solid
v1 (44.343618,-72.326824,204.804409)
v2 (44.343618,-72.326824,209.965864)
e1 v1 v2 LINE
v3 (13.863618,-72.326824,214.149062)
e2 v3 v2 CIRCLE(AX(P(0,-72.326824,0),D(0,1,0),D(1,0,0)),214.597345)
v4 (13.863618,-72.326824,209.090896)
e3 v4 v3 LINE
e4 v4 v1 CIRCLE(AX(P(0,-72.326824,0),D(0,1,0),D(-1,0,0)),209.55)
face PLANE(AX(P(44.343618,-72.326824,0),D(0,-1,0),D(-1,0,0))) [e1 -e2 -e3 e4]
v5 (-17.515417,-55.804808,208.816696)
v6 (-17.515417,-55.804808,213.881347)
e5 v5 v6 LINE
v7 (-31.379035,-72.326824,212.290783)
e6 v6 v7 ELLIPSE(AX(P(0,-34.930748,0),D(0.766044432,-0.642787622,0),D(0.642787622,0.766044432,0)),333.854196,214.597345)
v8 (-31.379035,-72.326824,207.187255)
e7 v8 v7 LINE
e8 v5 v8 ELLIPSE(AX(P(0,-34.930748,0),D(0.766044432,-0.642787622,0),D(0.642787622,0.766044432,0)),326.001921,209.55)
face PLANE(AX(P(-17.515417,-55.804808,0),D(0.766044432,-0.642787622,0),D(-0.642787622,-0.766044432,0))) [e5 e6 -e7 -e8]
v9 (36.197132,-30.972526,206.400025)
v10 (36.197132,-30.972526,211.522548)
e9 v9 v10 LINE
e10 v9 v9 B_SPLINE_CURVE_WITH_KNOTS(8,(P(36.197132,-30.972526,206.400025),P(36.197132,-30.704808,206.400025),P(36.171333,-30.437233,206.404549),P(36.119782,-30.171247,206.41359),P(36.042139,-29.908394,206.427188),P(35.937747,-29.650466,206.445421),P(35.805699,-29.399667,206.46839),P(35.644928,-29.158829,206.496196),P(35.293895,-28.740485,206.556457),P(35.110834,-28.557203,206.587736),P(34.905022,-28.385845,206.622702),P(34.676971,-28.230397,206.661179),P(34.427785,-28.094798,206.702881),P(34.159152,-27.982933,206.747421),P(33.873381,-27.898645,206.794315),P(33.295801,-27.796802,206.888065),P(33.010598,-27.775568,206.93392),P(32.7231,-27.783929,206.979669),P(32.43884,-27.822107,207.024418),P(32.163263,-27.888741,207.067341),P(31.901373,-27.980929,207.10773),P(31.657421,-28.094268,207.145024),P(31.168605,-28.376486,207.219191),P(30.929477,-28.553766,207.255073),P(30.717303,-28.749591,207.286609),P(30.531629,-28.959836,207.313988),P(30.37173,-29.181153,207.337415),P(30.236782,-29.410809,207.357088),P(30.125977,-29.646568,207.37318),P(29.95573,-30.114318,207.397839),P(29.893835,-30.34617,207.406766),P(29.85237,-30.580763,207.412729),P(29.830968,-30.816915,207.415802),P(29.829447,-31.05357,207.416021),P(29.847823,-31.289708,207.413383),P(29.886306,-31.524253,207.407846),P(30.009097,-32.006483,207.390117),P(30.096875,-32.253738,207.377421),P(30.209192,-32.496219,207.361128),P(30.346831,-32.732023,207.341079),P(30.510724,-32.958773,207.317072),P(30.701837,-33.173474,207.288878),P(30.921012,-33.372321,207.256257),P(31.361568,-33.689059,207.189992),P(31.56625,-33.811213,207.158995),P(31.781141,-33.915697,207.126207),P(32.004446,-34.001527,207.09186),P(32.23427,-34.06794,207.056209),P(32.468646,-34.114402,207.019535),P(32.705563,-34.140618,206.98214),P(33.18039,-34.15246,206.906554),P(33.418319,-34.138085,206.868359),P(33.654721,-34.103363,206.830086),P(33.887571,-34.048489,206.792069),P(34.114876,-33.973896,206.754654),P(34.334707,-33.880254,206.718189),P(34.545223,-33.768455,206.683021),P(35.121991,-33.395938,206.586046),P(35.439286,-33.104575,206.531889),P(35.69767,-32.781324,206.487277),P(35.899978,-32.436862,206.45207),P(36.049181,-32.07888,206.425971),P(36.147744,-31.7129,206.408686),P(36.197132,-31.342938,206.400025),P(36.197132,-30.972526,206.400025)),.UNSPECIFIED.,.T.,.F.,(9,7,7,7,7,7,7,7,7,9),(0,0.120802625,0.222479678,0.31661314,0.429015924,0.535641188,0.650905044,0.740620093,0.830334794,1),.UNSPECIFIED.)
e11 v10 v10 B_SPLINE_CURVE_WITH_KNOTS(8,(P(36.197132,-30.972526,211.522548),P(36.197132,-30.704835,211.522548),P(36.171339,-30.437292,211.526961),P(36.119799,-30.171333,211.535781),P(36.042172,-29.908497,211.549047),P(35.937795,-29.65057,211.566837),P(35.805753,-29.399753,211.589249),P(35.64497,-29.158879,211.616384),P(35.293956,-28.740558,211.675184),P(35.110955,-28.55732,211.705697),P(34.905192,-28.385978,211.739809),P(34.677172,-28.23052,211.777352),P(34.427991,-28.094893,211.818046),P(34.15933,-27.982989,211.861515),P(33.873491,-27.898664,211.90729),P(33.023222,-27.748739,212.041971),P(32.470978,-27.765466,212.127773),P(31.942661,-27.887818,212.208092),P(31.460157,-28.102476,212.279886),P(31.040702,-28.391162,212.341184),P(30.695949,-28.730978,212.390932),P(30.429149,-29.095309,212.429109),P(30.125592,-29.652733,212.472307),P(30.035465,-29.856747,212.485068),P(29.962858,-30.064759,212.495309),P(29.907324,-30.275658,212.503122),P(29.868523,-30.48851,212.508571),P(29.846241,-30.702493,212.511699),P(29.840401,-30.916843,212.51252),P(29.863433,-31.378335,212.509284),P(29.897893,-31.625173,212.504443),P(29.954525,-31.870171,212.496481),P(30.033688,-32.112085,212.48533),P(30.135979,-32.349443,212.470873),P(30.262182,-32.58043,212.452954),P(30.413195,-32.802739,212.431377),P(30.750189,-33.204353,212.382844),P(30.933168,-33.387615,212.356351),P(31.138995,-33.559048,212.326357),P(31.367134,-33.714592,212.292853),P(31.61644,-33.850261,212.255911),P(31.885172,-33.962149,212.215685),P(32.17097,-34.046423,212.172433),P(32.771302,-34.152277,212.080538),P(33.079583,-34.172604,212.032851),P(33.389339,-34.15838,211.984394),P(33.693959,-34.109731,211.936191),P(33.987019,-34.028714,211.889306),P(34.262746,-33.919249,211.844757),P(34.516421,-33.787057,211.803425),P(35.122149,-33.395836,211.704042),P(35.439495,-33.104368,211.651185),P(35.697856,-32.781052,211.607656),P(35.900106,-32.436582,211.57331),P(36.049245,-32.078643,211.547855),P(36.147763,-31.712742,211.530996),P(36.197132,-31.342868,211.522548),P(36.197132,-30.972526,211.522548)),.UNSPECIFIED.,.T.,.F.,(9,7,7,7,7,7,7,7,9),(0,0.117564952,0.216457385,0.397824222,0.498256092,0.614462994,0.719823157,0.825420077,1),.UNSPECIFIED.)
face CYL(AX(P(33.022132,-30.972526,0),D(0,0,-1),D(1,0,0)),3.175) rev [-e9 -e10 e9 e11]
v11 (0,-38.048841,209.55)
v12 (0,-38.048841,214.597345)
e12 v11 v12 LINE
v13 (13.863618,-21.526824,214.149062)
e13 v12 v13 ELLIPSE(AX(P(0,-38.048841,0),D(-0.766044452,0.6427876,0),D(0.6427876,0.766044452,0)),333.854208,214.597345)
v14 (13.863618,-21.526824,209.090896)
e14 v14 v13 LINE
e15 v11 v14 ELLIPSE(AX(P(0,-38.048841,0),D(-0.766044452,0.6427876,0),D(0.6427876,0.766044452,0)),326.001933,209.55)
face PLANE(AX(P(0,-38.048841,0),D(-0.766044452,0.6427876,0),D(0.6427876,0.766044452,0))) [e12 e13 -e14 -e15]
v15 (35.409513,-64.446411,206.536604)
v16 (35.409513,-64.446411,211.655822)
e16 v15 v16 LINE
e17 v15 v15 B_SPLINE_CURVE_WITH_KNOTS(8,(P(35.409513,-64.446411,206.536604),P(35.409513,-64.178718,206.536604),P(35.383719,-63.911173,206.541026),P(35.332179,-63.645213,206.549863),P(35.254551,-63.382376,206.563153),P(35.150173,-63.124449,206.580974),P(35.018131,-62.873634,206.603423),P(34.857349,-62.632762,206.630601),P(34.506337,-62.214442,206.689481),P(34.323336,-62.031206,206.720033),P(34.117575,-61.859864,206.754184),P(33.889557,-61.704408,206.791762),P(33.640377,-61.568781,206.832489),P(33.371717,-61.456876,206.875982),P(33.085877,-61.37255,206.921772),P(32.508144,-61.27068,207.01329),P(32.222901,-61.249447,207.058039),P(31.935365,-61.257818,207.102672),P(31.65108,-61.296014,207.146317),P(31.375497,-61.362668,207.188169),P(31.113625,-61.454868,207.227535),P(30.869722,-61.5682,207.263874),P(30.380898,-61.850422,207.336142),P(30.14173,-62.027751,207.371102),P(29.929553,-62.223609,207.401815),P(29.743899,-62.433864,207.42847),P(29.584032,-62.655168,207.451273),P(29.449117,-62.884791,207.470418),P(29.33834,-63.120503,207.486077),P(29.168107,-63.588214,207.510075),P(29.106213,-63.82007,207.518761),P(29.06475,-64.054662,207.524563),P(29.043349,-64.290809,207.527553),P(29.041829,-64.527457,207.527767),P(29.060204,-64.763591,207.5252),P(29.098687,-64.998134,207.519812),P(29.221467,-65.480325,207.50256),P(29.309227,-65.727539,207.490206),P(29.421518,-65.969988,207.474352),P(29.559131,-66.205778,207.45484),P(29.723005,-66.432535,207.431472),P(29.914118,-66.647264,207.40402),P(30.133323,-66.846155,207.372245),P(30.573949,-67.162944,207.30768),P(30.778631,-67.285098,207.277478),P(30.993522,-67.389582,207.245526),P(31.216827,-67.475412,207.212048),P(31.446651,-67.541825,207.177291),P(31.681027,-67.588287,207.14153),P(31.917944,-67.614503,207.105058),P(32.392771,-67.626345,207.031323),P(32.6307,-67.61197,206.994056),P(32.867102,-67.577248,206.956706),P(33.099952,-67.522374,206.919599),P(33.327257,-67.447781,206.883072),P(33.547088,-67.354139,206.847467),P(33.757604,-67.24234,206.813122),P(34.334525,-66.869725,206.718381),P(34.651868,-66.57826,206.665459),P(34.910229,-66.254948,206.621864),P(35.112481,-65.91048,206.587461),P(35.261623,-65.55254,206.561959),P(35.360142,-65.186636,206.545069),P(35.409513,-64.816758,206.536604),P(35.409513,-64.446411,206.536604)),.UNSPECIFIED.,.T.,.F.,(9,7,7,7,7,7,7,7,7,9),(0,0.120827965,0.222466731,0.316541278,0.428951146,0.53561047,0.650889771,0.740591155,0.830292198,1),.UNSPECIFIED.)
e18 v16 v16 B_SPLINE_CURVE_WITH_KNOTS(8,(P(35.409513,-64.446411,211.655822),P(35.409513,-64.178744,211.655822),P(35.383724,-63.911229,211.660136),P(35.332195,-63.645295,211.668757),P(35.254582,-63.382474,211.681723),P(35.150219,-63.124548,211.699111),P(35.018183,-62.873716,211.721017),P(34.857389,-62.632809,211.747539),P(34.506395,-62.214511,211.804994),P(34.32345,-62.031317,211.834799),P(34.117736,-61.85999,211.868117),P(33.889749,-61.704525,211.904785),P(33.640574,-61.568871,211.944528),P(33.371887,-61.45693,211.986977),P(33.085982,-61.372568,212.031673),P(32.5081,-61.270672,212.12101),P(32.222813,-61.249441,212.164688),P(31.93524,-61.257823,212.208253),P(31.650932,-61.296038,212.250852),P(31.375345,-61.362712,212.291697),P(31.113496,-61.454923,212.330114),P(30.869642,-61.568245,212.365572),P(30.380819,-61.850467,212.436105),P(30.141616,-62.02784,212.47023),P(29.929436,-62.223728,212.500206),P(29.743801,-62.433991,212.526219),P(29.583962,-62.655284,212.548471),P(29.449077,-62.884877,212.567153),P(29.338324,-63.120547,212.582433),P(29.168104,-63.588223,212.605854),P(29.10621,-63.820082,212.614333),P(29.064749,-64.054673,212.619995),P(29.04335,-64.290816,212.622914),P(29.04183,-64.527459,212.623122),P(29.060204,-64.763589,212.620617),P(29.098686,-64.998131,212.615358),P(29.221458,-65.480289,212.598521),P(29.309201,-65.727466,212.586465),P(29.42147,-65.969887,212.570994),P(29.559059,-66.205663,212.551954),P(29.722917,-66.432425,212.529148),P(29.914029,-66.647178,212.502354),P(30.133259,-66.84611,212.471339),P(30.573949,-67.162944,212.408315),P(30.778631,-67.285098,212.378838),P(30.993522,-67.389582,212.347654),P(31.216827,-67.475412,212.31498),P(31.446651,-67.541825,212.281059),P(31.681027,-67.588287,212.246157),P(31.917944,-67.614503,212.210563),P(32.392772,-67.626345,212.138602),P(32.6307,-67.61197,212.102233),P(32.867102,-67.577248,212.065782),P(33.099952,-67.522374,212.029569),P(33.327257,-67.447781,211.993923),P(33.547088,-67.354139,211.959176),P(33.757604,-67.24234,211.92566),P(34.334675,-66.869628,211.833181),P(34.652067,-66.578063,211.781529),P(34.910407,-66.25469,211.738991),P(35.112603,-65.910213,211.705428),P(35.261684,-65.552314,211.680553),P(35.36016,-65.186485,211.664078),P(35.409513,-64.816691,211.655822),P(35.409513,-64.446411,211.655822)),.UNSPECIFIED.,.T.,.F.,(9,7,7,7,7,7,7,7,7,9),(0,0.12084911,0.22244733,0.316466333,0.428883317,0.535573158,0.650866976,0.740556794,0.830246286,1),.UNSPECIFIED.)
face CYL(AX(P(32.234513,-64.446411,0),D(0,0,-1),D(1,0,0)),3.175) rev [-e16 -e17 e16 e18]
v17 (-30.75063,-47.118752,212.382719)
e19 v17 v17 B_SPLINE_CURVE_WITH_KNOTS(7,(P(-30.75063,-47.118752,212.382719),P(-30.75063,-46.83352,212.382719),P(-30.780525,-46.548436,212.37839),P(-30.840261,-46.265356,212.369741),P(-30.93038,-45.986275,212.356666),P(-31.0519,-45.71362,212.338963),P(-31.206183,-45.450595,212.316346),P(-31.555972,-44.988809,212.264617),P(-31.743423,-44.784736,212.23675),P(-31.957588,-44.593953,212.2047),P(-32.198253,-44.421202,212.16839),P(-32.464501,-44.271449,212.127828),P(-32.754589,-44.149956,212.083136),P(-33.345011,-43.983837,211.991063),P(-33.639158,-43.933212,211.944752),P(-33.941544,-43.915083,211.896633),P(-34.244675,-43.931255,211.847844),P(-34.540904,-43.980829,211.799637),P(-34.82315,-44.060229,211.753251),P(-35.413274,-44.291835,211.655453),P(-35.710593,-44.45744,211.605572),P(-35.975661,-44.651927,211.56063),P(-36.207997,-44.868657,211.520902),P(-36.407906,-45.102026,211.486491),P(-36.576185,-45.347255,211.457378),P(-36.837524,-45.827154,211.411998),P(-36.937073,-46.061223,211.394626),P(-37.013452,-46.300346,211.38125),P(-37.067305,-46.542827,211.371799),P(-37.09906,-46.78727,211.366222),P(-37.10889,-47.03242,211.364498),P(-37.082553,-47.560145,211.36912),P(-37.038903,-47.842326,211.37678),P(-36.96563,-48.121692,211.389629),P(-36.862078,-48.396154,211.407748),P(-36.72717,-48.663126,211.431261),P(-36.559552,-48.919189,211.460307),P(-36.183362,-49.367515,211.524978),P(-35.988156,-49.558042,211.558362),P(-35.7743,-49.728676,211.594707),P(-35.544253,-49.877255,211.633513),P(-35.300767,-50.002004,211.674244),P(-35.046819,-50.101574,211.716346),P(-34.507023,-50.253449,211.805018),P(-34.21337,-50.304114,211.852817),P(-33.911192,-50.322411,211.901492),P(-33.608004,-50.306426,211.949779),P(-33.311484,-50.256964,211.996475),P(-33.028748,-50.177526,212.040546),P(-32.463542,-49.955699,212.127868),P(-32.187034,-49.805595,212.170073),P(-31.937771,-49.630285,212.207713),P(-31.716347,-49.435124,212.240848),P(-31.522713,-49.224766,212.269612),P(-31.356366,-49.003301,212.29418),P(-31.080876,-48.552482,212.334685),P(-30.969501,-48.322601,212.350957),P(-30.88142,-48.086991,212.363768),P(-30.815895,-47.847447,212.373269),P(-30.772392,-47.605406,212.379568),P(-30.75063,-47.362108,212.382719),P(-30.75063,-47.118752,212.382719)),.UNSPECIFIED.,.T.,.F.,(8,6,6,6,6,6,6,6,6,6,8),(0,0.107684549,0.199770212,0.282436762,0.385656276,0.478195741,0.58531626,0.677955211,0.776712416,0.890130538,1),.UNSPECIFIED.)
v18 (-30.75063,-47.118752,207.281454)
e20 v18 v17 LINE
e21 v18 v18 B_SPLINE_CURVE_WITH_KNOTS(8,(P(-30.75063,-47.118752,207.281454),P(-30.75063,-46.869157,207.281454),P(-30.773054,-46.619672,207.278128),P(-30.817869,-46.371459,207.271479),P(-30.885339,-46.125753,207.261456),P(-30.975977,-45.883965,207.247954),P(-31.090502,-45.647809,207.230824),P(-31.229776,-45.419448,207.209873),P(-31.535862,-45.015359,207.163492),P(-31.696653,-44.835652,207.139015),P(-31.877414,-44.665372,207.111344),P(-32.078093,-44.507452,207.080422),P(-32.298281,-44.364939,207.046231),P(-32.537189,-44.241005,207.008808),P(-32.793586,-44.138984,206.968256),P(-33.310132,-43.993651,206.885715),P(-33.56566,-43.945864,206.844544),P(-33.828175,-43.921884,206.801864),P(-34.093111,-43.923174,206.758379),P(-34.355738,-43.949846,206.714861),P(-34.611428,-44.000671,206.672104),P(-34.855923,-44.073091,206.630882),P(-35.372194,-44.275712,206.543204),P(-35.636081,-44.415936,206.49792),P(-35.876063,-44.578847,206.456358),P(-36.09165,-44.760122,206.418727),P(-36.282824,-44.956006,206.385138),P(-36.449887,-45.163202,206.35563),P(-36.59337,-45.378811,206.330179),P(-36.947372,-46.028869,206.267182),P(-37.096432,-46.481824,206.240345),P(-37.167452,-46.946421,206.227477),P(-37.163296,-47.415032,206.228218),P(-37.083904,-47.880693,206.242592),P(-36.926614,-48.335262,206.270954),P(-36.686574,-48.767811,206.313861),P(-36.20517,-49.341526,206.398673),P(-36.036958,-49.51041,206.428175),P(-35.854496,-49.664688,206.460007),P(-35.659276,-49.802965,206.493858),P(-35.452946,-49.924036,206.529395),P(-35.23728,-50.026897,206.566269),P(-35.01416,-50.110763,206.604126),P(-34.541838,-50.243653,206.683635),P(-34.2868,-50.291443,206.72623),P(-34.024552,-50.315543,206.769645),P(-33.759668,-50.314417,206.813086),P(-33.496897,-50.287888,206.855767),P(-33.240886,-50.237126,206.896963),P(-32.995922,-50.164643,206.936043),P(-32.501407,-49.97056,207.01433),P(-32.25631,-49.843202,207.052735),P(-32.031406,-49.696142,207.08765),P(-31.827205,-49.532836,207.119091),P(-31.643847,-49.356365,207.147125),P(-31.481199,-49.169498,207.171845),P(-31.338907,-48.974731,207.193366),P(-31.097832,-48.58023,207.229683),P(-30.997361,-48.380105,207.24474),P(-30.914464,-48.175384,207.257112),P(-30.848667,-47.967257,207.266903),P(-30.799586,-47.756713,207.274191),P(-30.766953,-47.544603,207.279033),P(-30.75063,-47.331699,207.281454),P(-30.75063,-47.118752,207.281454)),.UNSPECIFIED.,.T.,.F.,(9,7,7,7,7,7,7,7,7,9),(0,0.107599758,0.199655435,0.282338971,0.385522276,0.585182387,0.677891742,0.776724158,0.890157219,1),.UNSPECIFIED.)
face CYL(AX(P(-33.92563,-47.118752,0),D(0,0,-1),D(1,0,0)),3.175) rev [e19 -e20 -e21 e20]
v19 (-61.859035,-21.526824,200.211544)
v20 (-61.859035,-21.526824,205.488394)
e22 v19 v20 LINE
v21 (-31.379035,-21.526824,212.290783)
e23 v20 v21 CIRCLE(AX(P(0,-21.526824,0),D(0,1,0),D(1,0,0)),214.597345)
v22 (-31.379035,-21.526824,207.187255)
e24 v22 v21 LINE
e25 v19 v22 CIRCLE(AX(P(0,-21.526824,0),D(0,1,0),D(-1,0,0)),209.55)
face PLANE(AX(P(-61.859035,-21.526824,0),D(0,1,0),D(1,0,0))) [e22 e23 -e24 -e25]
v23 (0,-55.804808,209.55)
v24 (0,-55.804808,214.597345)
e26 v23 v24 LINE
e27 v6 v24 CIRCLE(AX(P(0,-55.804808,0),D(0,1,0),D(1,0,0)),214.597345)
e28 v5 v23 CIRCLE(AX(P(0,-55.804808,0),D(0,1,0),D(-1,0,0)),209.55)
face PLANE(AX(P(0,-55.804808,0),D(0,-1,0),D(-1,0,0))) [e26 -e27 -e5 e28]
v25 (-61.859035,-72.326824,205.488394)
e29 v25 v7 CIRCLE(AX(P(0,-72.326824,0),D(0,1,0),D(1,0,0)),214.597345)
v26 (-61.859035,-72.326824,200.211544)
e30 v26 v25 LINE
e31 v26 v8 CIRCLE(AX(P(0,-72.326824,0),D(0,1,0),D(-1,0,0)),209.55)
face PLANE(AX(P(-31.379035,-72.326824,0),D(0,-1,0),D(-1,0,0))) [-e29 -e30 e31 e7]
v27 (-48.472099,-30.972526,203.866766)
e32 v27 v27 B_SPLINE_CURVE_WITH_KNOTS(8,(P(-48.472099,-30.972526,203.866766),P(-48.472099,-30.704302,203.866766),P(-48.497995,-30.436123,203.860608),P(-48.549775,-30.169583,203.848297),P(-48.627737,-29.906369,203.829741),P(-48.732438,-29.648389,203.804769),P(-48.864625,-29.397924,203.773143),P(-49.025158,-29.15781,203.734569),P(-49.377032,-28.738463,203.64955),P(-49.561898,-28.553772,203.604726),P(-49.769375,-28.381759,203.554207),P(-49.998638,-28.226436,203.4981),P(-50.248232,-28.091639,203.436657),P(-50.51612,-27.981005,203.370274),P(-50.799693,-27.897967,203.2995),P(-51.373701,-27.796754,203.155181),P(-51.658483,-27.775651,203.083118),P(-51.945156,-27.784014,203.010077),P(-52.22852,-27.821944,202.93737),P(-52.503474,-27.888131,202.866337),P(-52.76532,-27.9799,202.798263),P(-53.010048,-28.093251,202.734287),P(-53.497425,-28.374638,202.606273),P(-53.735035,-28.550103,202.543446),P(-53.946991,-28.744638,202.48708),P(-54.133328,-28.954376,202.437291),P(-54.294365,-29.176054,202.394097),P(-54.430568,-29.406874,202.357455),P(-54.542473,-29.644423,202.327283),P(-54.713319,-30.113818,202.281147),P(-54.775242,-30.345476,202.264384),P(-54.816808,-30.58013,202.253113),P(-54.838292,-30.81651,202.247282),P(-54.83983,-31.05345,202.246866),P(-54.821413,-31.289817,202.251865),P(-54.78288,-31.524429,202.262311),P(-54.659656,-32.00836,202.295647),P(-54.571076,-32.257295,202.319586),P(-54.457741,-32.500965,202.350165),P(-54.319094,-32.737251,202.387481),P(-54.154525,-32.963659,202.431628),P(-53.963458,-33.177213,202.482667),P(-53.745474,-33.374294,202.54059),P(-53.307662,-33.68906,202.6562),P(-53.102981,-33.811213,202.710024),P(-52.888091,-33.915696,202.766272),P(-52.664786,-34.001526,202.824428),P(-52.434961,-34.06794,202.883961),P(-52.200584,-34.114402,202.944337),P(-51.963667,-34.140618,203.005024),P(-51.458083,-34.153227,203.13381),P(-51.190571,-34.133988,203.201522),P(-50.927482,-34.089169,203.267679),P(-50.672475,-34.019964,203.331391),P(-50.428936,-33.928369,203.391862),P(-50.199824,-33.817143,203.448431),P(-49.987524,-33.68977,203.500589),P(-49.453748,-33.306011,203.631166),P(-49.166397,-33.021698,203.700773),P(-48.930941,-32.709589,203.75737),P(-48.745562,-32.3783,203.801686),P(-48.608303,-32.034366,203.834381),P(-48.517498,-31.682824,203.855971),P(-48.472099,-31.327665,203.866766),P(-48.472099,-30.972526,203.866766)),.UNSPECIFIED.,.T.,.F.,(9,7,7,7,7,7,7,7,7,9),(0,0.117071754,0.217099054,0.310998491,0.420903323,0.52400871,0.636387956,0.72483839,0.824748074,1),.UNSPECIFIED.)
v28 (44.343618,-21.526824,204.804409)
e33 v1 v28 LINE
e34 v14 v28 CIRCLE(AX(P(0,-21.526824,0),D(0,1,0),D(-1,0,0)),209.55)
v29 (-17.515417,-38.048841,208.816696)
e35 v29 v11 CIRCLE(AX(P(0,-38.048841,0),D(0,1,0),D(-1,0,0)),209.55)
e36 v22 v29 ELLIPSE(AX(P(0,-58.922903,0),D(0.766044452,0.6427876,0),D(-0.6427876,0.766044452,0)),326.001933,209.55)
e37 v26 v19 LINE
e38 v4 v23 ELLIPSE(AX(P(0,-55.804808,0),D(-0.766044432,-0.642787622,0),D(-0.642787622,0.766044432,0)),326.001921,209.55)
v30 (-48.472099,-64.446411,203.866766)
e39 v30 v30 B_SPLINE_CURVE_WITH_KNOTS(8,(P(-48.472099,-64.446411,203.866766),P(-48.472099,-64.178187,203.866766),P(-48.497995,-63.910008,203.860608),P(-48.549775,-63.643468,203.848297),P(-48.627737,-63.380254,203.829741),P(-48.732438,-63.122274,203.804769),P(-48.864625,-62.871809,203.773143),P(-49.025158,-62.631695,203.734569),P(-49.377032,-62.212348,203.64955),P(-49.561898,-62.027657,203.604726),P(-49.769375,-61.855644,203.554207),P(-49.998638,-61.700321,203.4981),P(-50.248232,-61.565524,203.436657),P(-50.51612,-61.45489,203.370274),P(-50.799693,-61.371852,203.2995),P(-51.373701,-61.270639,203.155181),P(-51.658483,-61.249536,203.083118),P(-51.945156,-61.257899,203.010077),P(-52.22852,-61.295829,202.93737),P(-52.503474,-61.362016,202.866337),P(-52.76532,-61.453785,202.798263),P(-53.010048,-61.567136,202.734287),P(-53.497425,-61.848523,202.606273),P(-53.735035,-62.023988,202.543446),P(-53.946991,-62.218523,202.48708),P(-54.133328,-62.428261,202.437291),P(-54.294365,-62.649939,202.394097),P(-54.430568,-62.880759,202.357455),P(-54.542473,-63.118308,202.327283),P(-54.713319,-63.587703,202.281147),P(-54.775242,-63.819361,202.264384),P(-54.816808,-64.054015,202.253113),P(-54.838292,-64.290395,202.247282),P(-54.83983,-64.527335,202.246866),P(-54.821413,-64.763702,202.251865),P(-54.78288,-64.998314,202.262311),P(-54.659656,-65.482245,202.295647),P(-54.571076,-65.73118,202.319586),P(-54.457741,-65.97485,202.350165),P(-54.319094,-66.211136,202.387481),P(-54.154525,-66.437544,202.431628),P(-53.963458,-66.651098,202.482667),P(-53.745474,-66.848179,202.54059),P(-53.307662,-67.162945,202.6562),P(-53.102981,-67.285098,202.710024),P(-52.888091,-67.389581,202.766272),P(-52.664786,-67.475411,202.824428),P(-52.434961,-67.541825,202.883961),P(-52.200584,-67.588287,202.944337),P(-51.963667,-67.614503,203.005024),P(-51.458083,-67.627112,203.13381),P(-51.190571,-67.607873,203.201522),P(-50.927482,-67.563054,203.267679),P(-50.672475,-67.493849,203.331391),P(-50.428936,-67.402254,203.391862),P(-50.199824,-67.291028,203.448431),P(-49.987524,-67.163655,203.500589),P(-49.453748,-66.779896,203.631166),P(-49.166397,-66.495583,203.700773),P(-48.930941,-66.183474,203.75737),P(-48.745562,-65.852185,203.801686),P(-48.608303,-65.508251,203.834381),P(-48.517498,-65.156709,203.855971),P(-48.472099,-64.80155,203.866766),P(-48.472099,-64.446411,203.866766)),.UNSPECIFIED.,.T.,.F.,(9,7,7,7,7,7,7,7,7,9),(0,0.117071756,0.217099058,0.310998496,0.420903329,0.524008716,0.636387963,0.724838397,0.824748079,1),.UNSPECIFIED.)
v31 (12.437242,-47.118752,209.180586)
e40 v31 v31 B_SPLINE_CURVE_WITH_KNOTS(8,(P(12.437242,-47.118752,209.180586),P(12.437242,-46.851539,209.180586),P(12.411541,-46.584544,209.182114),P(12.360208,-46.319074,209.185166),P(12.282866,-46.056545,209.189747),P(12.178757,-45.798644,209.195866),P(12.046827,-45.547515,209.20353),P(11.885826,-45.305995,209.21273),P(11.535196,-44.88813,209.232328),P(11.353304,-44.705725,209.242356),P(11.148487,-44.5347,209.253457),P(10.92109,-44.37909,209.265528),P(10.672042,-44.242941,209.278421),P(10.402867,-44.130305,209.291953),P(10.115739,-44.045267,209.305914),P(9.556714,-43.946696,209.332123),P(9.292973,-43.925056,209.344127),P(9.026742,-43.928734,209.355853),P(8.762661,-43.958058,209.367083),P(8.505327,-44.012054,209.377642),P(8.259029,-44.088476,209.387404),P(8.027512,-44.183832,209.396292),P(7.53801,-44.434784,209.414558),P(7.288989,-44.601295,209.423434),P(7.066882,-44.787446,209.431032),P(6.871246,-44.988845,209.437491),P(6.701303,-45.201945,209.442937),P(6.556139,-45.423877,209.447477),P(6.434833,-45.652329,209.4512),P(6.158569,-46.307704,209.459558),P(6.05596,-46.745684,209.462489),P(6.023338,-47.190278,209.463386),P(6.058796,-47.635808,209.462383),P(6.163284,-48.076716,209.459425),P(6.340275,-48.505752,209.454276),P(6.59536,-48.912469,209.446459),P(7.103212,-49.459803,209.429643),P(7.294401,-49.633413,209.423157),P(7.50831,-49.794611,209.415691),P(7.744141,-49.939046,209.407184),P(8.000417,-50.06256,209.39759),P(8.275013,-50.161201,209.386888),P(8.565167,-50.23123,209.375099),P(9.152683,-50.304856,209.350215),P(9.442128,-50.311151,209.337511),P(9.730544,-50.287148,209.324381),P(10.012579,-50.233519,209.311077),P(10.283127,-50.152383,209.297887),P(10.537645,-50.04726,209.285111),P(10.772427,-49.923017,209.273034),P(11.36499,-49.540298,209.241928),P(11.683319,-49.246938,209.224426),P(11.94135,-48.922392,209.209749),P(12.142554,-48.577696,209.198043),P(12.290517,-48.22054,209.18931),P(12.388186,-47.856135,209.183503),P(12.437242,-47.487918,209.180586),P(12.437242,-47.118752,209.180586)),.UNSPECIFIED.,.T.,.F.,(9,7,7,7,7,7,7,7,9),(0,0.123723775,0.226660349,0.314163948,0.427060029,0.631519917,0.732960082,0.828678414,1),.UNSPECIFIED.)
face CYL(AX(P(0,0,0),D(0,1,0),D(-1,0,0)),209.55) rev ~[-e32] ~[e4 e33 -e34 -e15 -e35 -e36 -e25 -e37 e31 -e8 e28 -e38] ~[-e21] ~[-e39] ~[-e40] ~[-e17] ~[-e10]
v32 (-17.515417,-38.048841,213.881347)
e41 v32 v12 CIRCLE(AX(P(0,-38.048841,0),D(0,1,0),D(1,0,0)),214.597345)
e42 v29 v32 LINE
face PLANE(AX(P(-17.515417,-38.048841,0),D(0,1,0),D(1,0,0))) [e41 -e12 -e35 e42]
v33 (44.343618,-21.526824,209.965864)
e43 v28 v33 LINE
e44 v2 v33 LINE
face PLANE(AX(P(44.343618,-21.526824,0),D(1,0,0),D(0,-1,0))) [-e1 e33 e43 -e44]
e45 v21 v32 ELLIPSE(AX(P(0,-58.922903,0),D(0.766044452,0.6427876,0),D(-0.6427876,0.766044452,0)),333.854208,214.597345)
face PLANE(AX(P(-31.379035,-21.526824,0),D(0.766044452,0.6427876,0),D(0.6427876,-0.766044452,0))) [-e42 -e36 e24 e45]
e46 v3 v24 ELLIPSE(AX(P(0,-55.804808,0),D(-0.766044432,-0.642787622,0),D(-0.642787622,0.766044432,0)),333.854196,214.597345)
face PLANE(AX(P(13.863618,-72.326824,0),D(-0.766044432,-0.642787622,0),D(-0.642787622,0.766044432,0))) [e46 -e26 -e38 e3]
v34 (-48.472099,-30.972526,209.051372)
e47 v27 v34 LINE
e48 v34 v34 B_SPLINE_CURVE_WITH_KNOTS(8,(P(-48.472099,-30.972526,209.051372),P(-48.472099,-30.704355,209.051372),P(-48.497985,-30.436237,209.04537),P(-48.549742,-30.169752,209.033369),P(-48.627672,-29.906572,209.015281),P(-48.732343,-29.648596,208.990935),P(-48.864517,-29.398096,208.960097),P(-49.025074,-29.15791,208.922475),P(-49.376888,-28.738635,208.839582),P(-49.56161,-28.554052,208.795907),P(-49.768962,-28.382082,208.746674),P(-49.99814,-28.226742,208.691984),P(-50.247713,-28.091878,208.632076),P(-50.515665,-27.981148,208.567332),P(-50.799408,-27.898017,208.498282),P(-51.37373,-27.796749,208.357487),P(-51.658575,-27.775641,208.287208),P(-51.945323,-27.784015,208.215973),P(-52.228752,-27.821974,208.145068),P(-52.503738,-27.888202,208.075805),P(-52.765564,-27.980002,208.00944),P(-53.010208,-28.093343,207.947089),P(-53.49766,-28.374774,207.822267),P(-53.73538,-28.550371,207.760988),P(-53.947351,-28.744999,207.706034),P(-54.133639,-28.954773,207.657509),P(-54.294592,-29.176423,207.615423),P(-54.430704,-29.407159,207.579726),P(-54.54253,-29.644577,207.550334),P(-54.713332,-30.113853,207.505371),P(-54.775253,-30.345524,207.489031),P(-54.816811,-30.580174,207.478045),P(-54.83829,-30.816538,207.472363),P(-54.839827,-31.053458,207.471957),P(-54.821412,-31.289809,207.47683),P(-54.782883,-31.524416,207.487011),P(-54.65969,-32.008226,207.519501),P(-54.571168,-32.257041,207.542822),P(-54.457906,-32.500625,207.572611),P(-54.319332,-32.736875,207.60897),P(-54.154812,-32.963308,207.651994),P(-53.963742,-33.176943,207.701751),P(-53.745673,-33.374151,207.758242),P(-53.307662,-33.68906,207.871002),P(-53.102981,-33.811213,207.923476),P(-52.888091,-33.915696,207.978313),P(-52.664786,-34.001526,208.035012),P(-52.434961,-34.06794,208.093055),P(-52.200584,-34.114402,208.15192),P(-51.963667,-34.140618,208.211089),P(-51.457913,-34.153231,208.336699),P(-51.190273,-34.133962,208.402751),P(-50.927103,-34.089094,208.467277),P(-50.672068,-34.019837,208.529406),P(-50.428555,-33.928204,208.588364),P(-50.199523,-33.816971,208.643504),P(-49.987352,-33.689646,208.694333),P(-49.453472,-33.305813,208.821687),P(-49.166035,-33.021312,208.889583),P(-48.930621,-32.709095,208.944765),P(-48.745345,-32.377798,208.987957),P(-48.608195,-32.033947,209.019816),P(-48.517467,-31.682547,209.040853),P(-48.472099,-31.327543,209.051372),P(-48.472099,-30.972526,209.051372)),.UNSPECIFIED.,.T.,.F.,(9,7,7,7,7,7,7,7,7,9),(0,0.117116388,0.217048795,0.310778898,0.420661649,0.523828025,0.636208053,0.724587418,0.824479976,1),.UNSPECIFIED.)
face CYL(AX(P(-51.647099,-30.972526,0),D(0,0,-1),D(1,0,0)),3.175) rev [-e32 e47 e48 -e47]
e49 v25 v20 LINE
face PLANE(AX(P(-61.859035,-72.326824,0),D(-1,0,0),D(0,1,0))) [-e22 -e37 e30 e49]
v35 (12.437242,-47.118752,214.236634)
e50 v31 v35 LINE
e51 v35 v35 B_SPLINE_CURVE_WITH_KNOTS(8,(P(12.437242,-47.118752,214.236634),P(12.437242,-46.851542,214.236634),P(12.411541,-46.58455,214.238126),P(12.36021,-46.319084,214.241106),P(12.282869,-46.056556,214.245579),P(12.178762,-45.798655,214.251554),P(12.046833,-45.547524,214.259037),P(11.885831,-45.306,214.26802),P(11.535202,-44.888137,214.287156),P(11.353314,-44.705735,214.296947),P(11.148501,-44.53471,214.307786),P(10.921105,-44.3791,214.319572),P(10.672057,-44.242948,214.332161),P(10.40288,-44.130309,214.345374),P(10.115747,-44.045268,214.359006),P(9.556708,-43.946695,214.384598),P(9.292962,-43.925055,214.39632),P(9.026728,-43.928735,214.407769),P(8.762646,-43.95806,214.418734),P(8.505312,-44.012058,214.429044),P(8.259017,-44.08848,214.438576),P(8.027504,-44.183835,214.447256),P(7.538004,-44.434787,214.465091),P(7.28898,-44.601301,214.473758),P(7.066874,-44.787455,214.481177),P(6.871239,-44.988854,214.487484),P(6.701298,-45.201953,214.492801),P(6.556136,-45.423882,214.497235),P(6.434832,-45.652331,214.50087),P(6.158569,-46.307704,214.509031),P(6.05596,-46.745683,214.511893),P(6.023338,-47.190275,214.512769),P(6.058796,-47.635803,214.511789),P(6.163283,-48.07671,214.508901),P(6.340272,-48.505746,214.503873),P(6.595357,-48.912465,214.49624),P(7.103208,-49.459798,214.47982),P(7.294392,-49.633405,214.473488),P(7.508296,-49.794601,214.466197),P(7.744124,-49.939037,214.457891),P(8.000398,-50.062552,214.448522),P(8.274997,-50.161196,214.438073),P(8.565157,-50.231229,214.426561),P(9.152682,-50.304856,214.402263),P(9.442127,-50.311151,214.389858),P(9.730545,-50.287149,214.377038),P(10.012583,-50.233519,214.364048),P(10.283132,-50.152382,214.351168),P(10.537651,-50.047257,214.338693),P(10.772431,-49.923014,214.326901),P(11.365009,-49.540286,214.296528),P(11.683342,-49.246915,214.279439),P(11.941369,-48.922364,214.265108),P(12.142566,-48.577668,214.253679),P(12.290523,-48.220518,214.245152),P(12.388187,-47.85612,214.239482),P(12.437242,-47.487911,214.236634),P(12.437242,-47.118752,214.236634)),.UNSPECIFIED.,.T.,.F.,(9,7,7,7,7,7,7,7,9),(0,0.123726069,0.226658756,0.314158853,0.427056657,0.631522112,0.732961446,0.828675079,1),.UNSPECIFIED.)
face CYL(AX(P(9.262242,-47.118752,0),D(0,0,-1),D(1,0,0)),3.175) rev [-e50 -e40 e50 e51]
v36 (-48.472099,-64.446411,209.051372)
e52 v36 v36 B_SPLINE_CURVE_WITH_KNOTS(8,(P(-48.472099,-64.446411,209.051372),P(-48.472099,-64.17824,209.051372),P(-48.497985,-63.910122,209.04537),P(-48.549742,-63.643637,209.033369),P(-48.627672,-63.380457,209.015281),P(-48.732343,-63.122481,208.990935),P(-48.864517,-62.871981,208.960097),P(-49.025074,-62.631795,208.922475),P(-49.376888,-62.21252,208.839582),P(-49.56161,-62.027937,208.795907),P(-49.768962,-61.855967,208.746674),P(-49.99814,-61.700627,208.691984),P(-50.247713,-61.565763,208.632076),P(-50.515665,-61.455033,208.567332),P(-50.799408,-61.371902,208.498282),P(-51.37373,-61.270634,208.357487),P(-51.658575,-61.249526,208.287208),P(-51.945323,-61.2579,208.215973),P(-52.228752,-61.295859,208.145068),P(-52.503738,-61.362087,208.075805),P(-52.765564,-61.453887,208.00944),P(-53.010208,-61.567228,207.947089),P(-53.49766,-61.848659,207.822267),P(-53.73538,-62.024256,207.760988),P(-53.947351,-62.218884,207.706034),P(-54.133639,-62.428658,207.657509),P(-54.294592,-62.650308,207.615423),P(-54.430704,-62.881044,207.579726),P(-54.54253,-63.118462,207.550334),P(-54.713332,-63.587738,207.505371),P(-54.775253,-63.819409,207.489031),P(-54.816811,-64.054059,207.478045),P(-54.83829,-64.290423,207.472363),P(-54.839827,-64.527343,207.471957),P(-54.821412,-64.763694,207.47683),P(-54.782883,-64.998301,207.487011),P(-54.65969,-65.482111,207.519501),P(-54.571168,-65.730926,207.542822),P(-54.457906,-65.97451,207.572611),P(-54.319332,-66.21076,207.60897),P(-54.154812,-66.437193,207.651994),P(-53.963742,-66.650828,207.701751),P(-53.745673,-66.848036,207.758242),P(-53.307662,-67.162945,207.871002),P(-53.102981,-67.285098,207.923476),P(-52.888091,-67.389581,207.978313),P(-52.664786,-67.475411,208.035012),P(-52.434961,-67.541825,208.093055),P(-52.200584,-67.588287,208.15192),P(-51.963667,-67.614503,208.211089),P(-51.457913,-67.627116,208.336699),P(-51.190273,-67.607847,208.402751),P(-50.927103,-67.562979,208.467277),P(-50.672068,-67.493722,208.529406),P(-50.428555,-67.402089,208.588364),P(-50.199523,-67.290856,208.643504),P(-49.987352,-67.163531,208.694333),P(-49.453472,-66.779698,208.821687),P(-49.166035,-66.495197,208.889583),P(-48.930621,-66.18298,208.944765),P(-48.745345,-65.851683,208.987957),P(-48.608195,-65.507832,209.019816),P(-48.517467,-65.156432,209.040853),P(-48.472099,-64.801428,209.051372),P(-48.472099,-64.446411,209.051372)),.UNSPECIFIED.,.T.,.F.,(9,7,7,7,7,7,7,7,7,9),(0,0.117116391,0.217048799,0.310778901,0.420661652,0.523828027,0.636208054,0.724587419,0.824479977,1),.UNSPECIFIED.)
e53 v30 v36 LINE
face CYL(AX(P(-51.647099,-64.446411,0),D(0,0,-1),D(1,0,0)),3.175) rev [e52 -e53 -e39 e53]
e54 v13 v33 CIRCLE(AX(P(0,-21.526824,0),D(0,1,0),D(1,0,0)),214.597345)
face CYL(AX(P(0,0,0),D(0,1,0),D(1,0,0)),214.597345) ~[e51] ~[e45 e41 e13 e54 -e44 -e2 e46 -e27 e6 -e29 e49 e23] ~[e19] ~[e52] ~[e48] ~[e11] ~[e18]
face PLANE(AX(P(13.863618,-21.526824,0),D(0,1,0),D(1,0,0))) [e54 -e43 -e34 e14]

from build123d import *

# Parameters (mm, degrees)
F1_DEPTH = 85.57783
F2_W     = 470.658332
F2_H     = 132.007137
F3_DEPTH = 332.33001
F4_R     = 3.175
F5_DEPTH = 369.06305


with BuildPart() as f1:
    # F0 (on Front) → F1 (new body)
    with BuildSketch(Plane.XZ):
        with BuildLine():
            ThreePointArc((-209.55, 0), (0, 209.55), (209.55, 0))
            Line((209.55, 0), (214.597345, 0))
            ThreePointArc((214.597345, 0), (0, 214.597345), (-214.597345, 0))
            Line((-214.597345, 0), (-209.55, 0))
        make_face()
    extrude(amount=F1_DEPTH)

    # F2 (on Top) → F3 (cut)
    with BuildSketch(Plane.XY):
        with Locations((5.359113, -37.707031)):
            Rectangle(F2_W, F2_H)
        Polygon((-61.859035, -72.326824), (-61.859035, -21.526824), (-31.379035, -21.526824), (-17.515417, -38.048841), (0, -38.048841), (13.863618, -21.526824), (44.343618, -21.526824), (44.343618, -72.326824), (13.863618, -72.326824), (0, -55.804808), (-17.515417, -55.804808), (-31.379035, -72.326824), align=None, mode=Mode.SUBTRACT)
    extrude(amount=F3_DEPTH, mode=Mode.SUBTRACT)

    # F4 (on Top) → F5 (cut)
    with BuildSketch(Plane.XY):
        with Locations((-51.647099, -30.972526)):
            Circle(F4_R)
        with Locations((-51.647099, -64.446411)):
            Circle(F4_R)
        with Locations((-33.92563, -47.118752)):
            Circle(F4_R)
        with Locations((9.262242, -47.118752)):
            Circle(F4_R)
        with Locations((33.022132, -30.972526)):
            Circle(F4_R)
        with Locations((32.234513, -64.446411)):
            Circle(F4_R)
    extrude(amount=F5_DEPTH, mode=Mode.SUBTRACT)


solid = f1.part
